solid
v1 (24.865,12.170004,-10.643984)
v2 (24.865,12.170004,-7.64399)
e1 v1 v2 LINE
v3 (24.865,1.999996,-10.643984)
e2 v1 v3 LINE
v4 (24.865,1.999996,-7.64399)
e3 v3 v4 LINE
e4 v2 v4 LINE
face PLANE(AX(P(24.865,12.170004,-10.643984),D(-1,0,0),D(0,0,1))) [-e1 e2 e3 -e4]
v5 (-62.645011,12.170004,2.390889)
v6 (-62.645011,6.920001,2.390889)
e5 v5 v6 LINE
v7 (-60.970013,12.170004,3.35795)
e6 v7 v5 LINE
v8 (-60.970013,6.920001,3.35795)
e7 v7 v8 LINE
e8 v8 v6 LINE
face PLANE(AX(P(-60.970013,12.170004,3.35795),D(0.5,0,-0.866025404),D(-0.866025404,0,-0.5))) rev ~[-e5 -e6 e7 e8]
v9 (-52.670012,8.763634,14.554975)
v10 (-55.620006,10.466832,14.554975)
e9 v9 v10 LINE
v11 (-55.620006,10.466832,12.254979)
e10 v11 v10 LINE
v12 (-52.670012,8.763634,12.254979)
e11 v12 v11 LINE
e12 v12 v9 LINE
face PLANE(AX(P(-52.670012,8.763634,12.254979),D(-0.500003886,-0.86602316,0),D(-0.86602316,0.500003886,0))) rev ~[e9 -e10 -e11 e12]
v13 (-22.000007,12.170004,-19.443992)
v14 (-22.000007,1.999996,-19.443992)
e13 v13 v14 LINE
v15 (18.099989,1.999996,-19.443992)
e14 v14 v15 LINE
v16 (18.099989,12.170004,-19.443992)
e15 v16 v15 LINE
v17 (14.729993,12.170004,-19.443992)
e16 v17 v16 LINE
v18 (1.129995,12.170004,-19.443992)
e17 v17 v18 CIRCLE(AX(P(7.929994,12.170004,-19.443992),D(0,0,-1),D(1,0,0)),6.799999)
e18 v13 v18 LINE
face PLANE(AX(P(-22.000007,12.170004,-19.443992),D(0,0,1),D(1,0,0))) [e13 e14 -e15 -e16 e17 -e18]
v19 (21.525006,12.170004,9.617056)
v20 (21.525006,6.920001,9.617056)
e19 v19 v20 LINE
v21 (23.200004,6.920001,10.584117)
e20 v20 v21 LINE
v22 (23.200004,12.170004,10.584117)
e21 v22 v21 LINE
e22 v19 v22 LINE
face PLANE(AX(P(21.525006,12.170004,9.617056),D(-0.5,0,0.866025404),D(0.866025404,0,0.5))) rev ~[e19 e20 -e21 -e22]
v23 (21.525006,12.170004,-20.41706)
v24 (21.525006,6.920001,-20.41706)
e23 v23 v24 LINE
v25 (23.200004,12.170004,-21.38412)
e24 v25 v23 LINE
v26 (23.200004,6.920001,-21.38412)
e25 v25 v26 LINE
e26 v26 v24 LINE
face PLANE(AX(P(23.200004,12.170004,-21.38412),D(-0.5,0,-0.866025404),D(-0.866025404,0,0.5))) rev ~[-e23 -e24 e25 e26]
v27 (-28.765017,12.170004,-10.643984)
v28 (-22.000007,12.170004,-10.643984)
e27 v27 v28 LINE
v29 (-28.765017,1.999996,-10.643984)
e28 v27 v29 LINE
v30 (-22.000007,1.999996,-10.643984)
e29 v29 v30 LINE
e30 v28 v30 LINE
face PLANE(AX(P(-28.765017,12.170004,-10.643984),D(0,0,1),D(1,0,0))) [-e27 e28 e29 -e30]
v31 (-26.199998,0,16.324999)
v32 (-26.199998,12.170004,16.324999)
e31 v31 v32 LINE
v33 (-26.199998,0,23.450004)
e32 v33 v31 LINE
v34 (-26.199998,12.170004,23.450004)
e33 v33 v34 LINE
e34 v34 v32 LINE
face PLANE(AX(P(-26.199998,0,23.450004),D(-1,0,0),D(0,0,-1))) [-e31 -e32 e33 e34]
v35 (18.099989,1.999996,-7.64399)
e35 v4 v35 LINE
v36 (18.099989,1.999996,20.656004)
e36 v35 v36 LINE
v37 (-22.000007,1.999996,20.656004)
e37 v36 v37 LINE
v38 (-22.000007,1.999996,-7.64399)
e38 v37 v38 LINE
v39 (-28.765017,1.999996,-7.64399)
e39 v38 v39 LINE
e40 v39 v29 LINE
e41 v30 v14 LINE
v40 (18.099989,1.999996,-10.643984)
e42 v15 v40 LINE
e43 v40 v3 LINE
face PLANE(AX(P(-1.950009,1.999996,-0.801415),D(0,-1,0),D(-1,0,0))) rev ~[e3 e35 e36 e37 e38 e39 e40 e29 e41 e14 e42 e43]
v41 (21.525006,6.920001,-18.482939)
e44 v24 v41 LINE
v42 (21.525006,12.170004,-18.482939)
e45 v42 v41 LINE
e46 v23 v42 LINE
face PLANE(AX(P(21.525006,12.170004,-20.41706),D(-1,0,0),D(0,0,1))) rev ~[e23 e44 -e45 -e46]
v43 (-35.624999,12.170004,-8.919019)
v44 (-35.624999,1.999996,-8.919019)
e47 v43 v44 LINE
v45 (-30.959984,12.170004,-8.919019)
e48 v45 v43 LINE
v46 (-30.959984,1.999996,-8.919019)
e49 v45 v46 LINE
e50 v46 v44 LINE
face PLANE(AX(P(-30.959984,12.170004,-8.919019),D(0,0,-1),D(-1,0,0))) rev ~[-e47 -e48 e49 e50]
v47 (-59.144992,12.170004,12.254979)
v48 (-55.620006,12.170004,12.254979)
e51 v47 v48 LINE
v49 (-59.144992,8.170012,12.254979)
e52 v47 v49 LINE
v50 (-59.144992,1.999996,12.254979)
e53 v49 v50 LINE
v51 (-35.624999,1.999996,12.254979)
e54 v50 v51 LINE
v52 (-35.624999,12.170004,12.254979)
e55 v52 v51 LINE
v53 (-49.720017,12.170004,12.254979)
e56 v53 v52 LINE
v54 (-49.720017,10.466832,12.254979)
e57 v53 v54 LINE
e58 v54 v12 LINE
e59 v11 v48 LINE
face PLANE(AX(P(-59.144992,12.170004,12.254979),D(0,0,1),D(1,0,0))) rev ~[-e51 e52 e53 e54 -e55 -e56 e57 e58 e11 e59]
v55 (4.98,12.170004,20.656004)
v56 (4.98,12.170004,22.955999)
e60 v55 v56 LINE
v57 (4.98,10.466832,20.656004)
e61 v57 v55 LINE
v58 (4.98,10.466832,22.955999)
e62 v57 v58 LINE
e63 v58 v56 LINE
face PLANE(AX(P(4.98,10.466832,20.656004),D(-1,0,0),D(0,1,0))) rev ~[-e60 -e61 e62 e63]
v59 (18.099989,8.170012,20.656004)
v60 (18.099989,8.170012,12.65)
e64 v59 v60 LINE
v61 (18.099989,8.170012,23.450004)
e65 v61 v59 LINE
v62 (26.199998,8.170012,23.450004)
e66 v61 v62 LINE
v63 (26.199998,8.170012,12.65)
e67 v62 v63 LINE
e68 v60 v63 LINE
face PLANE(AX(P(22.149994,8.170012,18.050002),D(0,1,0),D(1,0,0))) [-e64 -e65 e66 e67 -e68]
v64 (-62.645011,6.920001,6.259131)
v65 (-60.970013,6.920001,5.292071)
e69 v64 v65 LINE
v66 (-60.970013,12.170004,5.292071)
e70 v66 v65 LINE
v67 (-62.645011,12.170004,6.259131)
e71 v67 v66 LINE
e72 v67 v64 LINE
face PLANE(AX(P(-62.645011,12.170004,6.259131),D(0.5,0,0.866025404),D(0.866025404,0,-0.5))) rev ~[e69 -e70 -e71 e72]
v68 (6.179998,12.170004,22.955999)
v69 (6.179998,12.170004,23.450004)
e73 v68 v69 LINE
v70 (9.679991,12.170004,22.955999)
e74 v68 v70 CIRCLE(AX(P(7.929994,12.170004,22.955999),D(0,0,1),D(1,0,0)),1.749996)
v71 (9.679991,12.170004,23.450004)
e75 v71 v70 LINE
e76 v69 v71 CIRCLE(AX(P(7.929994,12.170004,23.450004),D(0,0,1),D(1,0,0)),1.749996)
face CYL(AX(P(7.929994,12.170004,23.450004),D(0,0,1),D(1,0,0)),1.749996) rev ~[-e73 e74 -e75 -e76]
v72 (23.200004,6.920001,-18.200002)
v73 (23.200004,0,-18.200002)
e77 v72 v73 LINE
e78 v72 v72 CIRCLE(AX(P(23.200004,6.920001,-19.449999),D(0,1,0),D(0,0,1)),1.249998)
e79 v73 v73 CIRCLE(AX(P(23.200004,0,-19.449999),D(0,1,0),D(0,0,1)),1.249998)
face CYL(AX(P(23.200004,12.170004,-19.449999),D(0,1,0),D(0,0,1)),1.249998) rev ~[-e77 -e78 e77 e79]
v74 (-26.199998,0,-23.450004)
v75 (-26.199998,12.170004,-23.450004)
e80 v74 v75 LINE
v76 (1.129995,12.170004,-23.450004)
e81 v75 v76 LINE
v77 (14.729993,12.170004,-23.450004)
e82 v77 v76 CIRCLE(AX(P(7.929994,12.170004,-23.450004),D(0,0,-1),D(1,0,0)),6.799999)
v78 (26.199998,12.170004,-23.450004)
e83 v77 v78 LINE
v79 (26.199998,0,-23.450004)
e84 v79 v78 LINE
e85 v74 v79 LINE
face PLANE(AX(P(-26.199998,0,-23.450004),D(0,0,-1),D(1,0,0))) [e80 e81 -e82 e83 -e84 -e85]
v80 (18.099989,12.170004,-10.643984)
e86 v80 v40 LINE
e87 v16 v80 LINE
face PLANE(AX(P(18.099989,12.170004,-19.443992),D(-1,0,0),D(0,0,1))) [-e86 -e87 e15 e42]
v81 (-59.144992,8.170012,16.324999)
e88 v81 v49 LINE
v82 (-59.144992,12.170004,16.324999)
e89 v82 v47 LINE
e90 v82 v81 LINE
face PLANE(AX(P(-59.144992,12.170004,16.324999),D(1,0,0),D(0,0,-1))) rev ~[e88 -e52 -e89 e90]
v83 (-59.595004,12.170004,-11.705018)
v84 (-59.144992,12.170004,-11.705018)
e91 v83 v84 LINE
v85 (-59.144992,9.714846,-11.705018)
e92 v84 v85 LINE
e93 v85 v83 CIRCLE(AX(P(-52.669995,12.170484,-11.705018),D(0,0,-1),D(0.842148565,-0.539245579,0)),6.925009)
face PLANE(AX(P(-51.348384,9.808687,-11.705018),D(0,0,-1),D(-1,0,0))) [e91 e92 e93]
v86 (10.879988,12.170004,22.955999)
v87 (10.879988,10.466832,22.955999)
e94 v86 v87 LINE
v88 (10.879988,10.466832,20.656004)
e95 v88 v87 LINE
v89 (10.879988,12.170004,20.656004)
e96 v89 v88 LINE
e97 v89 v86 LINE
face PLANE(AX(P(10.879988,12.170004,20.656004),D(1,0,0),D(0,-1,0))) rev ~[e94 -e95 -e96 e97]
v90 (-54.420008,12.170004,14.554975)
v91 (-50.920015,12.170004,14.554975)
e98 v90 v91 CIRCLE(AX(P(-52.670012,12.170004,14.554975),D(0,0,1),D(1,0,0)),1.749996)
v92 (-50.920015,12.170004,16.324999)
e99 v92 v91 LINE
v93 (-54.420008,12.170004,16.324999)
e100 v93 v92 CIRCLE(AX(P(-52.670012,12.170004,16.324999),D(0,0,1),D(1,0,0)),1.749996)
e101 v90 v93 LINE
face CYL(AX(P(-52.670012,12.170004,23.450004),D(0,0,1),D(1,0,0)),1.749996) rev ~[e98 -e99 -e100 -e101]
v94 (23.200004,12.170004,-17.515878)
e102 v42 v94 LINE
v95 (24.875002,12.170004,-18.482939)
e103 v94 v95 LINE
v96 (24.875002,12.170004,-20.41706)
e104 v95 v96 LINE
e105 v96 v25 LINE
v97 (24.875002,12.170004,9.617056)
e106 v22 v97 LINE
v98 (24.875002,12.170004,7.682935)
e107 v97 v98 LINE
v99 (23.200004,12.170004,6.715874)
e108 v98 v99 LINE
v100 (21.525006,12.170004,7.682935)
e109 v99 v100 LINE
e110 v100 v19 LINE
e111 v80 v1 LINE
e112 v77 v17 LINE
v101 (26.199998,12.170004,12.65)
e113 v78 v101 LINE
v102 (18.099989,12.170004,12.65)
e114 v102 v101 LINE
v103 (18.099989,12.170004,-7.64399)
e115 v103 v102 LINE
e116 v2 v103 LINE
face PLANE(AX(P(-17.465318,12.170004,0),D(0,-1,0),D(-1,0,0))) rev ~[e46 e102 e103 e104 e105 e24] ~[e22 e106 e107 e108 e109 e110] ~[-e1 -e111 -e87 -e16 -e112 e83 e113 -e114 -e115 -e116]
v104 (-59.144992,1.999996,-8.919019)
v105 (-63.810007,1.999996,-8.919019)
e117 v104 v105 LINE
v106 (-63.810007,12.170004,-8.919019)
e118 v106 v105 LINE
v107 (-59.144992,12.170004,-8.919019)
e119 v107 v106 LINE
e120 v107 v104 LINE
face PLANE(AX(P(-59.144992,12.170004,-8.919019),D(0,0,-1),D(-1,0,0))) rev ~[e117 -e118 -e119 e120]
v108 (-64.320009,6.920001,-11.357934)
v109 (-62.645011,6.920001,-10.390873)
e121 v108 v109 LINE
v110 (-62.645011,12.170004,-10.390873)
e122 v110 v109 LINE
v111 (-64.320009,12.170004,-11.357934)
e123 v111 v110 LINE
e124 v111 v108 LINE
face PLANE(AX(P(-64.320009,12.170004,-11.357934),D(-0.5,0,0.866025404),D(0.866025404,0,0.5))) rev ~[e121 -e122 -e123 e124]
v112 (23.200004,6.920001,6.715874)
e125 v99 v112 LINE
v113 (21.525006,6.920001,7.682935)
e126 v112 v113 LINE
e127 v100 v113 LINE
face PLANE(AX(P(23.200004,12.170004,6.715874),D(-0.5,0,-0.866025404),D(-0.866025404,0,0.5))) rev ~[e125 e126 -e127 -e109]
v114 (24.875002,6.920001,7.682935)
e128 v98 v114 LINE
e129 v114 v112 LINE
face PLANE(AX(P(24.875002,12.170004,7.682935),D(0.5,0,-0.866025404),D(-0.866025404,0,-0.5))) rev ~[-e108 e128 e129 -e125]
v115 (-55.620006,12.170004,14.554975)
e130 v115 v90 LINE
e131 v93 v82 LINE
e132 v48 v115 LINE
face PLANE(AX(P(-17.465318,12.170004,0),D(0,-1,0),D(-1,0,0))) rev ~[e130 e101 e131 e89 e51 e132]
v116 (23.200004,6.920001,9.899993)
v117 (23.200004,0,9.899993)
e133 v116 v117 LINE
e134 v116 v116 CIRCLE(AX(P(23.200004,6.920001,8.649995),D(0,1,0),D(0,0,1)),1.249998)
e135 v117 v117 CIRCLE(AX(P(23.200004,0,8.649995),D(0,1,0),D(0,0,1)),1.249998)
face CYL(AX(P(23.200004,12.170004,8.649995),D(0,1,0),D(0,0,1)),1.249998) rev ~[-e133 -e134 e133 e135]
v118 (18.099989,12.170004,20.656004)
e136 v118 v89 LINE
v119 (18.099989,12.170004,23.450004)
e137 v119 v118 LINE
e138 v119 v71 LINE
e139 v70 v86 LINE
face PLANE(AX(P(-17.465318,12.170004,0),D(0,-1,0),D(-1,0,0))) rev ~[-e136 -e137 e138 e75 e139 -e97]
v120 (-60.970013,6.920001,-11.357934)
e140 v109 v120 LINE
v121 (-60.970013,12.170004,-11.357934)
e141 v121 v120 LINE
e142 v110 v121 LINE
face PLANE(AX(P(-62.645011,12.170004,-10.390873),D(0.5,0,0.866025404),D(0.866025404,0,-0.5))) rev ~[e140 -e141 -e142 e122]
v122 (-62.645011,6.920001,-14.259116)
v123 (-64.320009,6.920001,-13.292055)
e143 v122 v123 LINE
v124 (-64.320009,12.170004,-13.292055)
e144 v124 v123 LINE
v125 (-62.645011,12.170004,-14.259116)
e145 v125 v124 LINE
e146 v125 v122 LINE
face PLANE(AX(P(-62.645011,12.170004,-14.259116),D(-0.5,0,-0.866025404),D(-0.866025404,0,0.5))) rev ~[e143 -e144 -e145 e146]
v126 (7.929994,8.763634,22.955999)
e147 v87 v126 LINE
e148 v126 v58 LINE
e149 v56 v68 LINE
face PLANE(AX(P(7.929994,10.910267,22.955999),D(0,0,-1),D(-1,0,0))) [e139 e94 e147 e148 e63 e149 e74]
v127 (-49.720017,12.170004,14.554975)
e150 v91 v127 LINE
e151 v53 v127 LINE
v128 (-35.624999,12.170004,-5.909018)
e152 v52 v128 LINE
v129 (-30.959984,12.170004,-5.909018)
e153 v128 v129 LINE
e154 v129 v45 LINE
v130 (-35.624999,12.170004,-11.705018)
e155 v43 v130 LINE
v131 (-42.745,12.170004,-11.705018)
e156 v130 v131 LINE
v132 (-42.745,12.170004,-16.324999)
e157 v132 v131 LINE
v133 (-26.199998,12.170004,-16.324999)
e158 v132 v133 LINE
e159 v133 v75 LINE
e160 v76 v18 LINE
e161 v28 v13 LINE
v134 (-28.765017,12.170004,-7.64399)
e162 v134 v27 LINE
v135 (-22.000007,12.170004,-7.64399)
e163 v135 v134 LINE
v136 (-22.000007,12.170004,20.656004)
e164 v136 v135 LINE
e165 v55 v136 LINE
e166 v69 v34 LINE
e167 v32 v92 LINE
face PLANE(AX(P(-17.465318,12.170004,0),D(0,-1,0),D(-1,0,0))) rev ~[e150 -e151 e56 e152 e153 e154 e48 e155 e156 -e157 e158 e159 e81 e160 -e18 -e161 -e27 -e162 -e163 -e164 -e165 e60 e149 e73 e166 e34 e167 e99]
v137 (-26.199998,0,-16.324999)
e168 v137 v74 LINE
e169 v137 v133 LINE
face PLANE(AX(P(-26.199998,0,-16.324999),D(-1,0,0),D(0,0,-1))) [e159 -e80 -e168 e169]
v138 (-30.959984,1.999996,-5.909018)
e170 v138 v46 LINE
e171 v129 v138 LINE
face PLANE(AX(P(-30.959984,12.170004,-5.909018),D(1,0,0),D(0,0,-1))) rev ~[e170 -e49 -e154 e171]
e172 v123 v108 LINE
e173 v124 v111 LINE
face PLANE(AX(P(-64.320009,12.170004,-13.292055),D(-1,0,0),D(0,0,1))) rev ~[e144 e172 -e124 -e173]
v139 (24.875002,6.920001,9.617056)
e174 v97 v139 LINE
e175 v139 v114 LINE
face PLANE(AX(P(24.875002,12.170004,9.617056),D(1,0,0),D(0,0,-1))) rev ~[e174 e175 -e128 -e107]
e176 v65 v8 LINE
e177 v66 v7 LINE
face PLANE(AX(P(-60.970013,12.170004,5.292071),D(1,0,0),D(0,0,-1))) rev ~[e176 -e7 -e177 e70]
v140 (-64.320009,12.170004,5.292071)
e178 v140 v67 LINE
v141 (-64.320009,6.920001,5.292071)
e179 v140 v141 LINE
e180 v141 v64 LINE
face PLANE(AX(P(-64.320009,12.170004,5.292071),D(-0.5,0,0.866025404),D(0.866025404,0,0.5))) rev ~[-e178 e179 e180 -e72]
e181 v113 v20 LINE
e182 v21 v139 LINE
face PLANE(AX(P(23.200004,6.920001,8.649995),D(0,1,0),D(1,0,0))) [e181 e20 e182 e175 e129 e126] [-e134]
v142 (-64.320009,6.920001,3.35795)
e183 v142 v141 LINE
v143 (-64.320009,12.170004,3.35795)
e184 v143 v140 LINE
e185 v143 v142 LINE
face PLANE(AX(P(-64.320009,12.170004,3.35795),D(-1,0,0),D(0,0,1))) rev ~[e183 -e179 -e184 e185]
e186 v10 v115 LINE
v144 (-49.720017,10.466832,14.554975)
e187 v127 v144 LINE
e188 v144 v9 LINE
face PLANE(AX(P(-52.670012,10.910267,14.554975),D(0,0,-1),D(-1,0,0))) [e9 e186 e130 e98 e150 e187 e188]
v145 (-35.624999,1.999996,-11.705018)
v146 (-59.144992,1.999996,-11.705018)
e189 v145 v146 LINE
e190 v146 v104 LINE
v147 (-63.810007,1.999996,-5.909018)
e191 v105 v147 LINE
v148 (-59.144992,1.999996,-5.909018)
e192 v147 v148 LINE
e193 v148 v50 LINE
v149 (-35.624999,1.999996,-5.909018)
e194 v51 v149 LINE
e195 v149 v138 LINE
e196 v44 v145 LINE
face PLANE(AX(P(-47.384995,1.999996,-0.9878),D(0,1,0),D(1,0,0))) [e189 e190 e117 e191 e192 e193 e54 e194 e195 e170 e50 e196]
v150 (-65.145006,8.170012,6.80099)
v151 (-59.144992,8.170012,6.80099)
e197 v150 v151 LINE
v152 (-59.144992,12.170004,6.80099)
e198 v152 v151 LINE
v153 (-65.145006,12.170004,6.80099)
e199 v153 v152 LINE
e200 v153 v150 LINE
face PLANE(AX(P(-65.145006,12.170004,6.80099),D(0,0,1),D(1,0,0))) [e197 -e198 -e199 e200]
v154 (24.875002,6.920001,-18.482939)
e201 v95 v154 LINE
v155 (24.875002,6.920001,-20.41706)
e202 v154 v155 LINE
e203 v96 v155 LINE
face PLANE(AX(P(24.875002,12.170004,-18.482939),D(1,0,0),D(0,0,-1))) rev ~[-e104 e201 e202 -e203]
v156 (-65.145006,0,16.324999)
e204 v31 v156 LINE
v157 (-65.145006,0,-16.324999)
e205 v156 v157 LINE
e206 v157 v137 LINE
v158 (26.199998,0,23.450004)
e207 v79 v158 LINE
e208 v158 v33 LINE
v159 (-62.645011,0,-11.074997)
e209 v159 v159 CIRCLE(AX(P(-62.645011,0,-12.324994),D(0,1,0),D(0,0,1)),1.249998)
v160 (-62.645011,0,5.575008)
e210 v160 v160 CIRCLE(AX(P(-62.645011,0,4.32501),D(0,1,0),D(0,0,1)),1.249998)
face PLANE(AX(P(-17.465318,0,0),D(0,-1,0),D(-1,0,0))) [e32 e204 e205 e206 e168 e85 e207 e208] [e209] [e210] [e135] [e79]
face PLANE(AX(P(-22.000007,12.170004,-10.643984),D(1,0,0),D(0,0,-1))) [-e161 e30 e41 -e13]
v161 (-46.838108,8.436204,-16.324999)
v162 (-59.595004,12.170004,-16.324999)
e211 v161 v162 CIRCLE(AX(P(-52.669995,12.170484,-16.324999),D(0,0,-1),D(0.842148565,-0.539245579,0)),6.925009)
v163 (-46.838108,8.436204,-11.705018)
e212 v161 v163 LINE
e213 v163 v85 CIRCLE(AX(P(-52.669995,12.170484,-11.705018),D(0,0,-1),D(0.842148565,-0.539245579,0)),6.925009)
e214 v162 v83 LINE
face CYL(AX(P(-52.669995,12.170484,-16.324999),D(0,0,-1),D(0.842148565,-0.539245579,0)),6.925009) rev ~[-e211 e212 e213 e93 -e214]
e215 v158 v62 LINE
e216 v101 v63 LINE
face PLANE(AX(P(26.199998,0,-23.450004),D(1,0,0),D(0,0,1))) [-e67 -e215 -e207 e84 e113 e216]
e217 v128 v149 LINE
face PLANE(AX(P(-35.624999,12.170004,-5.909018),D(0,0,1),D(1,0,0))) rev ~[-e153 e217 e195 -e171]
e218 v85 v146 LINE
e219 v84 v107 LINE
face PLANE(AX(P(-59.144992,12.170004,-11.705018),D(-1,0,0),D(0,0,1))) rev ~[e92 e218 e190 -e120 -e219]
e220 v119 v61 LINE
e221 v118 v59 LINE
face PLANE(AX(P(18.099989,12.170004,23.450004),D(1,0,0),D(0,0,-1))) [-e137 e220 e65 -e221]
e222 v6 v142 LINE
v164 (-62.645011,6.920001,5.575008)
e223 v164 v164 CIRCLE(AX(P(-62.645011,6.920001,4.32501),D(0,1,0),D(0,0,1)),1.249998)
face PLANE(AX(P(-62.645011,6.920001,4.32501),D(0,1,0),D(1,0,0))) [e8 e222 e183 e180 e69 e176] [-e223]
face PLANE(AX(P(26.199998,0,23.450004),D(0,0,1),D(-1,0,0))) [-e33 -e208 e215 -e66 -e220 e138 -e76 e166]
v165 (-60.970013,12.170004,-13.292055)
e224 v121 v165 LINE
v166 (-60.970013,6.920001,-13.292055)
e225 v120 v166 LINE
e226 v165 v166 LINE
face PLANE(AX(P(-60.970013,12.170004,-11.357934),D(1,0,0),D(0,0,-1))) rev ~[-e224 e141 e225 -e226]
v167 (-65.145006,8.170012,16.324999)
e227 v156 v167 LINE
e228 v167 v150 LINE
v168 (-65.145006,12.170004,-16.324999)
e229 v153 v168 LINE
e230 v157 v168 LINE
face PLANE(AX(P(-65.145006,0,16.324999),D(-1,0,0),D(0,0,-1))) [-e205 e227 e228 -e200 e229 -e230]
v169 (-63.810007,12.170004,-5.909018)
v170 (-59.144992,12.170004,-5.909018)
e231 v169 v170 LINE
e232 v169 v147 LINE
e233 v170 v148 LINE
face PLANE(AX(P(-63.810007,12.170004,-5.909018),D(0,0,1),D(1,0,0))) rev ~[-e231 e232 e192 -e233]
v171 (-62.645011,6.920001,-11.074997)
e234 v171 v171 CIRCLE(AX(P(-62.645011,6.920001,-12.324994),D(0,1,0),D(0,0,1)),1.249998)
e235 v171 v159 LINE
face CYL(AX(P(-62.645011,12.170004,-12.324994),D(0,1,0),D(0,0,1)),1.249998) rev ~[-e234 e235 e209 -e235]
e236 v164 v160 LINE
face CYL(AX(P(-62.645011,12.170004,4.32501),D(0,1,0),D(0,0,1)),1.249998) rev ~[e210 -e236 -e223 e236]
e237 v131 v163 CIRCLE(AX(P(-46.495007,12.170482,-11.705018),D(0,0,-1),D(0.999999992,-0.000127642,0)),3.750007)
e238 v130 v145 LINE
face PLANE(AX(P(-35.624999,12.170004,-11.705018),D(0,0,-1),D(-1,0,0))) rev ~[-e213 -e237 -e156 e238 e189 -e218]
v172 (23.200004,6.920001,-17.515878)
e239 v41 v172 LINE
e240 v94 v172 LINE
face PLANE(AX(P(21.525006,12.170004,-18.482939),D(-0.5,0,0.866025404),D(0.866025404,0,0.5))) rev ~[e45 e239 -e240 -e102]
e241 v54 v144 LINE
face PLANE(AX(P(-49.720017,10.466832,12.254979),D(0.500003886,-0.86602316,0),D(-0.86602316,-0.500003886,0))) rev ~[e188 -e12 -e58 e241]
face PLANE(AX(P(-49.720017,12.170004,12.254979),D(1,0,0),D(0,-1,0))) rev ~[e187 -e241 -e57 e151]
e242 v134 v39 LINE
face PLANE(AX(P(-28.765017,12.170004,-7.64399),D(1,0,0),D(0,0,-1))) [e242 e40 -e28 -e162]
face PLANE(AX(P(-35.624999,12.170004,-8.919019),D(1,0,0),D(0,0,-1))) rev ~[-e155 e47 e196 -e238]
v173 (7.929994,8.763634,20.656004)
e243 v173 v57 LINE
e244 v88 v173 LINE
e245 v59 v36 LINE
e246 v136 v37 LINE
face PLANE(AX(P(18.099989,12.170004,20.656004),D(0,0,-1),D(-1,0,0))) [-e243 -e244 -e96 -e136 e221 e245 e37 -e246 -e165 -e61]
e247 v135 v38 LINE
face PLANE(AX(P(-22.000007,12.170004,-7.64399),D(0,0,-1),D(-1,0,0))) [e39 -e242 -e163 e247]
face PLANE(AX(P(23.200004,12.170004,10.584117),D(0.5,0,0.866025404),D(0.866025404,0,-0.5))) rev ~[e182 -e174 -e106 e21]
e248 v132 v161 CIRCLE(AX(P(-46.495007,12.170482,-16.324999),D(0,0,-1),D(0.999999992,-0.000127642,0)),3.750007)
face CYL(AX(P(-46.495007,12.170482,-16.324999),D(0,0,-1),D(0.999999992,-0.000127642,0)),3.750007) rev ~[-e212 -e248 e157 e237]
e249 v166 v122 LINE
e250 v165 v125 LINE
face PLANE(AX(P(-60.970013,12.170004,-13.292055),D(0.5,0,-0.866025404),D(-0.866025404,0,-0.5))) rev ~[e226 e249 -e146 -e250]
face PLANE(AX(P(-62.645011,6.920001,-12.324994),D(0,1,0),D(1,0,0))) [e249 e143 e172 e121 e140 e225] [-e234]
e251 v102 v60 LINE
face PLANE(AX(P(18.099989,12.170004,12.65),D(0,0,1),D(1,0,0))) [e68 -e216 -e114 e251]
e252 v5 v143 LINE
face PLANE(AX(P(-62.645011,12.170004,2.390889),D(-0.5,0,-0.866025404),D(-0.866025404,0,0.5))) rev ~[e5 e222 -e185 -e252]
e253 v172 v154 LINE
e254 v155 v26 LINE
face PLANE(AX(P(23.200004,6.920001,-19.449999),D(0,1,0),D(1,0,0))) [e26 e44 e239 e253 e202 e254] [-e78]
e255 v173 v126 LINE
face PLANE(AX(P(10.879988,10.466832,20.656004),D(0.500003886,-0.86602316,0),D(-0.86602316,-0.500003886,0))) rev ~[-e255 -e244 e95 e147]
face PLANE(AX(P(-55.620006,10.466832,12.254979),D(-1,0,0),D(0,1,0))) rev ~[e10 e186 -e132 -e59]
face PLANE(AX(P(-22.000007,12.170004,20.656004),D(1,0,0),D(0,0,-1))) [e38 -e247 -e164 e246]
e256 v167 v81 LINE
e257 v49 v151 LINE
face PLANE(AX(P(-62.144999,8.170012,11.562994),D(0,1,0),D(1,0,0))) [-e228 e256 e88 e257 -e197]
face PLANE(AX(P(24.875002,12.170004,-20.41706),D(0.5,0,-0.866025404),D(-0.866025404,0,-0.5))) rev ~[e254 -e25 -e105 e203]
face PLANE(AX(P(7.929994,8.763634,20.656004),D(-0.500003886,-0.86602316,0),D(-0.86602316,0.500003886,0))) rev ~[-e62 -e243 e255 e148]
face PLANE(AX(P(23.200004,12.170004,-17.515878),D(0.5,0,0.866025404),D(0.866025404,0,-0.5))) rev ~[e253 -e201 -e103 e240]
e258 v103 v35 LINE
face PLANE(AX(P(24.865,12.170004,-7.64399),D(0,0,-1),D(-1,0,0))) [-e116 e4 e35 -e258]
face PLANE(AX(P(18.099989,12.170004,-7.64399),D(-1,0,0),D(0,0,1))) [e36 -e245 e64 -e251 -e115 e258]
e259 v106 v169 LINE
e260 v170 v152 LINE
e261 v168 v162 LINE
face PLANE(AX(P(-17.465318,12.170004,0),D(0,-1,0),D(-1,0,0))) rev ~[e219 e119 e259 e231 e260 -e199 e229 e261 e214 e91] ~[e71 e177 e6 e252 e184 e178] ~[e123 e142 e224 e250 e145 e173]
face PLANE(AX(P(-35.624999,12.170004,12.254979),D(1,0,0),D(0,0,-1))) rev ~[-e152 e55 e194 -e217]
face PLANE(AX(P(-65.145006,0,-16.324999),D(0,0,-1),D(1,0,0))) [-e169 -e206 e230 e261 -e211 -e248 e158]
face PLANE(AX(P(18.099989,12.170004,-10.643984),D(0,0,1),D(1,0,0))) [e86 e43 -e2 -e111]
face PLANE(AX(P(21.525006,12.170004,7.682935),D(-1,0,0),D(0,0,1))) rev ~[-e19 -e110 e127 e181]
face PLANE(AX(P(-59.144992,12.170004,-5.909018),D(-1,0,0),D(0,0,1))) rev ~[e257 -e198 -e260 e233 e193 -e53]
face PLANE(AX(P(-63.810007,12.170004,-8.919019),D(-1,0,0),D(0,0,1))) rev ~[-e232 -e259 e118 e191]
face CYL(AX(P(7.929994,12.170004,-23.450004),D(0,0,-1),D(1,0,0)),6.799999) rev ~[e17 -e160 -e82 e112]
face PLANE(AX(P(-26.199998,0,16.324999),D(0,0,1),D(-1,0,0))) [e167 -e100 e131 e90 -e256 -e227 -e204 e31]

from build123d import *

# Parameters (mm, degrees)
BOSS_EXTRUDE1_DEPTH = 12.1700036
SKETCH2_W           = 8.1000092
SKETCH2_H           = 10.8000038
SKETCH2_W_2         = 6.0000134
SKETCH2_H_2         = 9.5240094
CUT_EXTRUDE1_DEPTH  = 3.999992
CUT_EXTRUDE2_DEPTH  = 10.1700076
CUT_EXTRUDE3_DEPTH  = 4.0060118
CUT_EXTRUDE4_DEPTH  = 4.6199806
CUT_EXTRUDE5_DEPTH  = 5.2500022
CUT_EXTRUDE6_REACH  = 83.189
SKETCH7_R           = 1.7499965
CUT_EXTRUDE7_DEPTH  = 2.2999954
CUT_EXTRUDE8_DEPTH  = 2.2999954
SKETCH10_R          = 1.2499975
CUT_EXTRUDE9_DEPTH  = 71.298530747


with BuildPart() as part:
    # Sketch1 → Boss-Extrude1 (new body)
    with BuildSketch(Plane(origin=(0, 0, 0), x_dir=(1, 0, 0), z_dir=(0, 1, 0))):
        Polygon((-26.1999984, 16.3249991), (-26.1999984, 23.4500039), (26.1999984, 23.4500039), (26.1999984, -23.4500039), (-26.1999984, -23.4500039), (-26.1999984, -16.3249991), (-65.1450056, -16.3249991), (-65.1450056, 16.3249991), align=None)
    extrude(amount=BOSS_EXTRUDE1_DEPTH)

    # Sketch2 → Cut-Extrude1 (cut)
    with BuildSketch(Plane(origin=(0, 12.1700036, 0), x_dir=(1, 0, 0), z_dir=(0, 1, 0))):
        with Locations((22.1499938, -18.050002)):
            Rectangle(SKETCH2_W, SKETCH2_H)
        with Locations((-62.1449989, -11.5629944)):
            Rectangle(SKETCH2_W_2, SKETCH2_H_2)
    extrude(amount=-CUT_EXTRUDE1_DEPTH, mode=Mode.SUBTRACT)

    # Sketch3 → Cut-Extrude2 (cut)
    with BuildSketch(Plane(origin=(0, 12.1700036, 0), x_dir=(1, 0, 0), z_dir=(0, 1, 0))):
        Polygon((-59.1449922, -12.2549793), (-35.6249986, -12.2549793), (-35.6249986, 5.9090179), (-30.9599838, 5.9090179), (-30.9599838, 8.9190195), (-35.6249986, 8.9190195), (-35.6249986, 11.7050185), (-59.1449922, 11.7050185), (-59.1449922, 8.9190195), (-63.810007, 8.9190195), (-63.810007, 5.9090179), (-59.1449922, 5.9090179), align=None)
        Polygon((18.0999892, -20.6560039), (-22.0000068, -20.6560039), (-22.0000068, 7.6439903), (-28.7650174, 7.6439903), (-28.7650174, 10.6439843), (-22.0000068, 10.6439843), (-22.0000068, 19.4439921), (18.0999892, 19.4439921), (18.0999892, 10.6439843), (24.8649998, 10.6439843), (24.8649998, 7.6439903), (18.0999892, 7.6439903), align=None)
    extrude(amount=-CUT_EXTRUDE2_DEPTH, mode=Mode.SUBTRACT)

    # Sketch4 → Cut-Extrude3 (cut)
    with BuildSketch(Plane(origin=(0, 0, -23.4500039), x_dir=(-1, 0, 0), z_dir=(0, 0, -1))):
        with BuildLine():
            Line((-1.1299952, 12.1700036), (-14.7299934, 12.1700036))
            ThreePointArc((-14.7299934, 12.1700036), (-7.9299943, 5.3700045), (-1.1299952, 12.1700036))
        make_face()
    extrude(amount=-CUT_EXTRUDE3_DEPTH, mode=Mode.SUBTRACT)

    # Sketch5 → Cut-Extrude4 (cut)
    with BuildSketch(Plane(origin=(0, 0, -16.3249991), x_dir=(-1, 0, 0), z_dir=(0, 0, -1))):
        with BuildLine():
            ThreePointArc((46.838108, 8.4362036), (54.615256842, 5.524304205), (59.595004, 12.1700036))
            Line((59.595004, 12.1700036), (46.838108, 12.1700036))
            Line((46.838108, 12.1700036), (42.7449996, 12.1700036))
            ThreePointArc((42.7449996, 12.1700036), (43.96774198, 9.400015303), (46.838108, 8.4362036))
        make_face()
    extrude(amount=-CUT_EXTRUDE4_DEPTH, mode=Mode.SUBTRACT)

    # Sketch6 → Cut-Extrude5 (cut)
    with BuildSketch(Plane(origin=(0, 12.1700036, 0), x_dir=(1, 0, 0), z_dir=(0, 1, 0))):
        Polygon((-62.6450106, 14.2591155), (-64.320008607, 13.29205495), (-64.320008607, 11.35793385), (-62.6450106, 10.3908733), (-60.970012593, 11.35793385), (-60.970012593, 13.29205495), align=None)
        Polygon((-62.6450106, -2.3908893), (-64.320008607, -3.35794985), (-64.320008607, -5.29207095), (-62.6450106, -6.2591315), (-60.970012593, -5.29207095), (-60.970012593, -3.35794985), align=None)
        Polygon((23.2000044, 21.3841203), (21.525006393, 20.41705975), (21.525006393, 18.48293865), (23.2000044, 17.5158781), (24.875002407, 18.48293865), (24.875002407, 20.41705975), align=None)
        Polygon((23.2000044, -6.7158743), (21.525006393, -7.68293485), (21.525006393, -9.61705595), (23.2000044, -10.5841165), (24.875002407, -9.61705595), (24.875002407, -7.68293485), align=None)
    extrude(amount=-CUT_EXTRUDE5_DEPTH, mode=Mode.SUBTRACT)

    # Cut-Extrude6: up to this face of the body (flat: up to its plane)
    cut_extrude6_end = Plane(part.part.faces().sort_by_distance((-47.3849954, 7.0849998, 12.2549793))[0])
    # Sketch7 → Cut-Extrude6 (cut, up to the picked face)
    with BuildSketch(Plane.XY.offset(23.4500039), mode=Mode.PRIVATE) as cut_extrude6_sk1:
        with Locations((-52.6700115, 12.1700036)):
            Circle(SKETCH7_R)
    cut_extrude6_tool1 = split(extrude(cut_extrude6_sk1.sketch, amount=-CUT_EXTRUDE6_REACH, mode=Mode.PRIVATE), bisect_by=cut_extrude6_end, keep=Keep.BOTH, mode=Mode.PRIVATE)
    # Sketch7 → Cut-Extrude6 (cut, up to the picked face)
    with BuildSketch(Plane.XY.offset(23.4500039), mode=Mode.PRIVATE) as cut_extrude6_sk2:
        with Locations((7.9299943, 12.1700036)):
            Circle(SKETCH7_R)
    cut_extrude6_tool2 = split(extrude(cut_extrude6_sk2.sketch, amount=-CUT_EXTRUDE6_REACH, mode=Mode.PRIVATE), bisect_by=cut_extrude6_end, keep=Keep.BOTH, mode=Mode.PRIVATE)
    add(cut_extrude6_tool1.solids().sort_by(Axis((-52.670012, 12.170004, 23.450004), (0, 0, -1)))[0], mode=Mode.SUBTRACT)
    add(cut_extrude6_tool2.solids().sort_by(Axis((7.929994, 12.170004, 23.450004), (0, 0, -1)))[0], mode=Mode.SUBTRACT)

    # Sketch8 → Cut-Extrude7 (cut)
    with BuildSketch(Plane(origin=(0, 0, 20.6560039), x_dir=(-1, 0, 0), z_dir=(0, 0, -1))):
        Polygon((-10.8799884, 12.1700036), (-10.8799884, 10.466832), (-7.9299943, 8.763634463), (-4.9800002, 10.466832), (-4.9800002, 12.1700036), align=None)
    extrude(amount=-CUT_EXTRUDE7_DEPTH, mode=Mode.SUBTRACT)

    # Sketch9 → Cut-Extrude8 (cut)
    with BuildSketch(Plane(origin=(0, 0, 12.2549793), x_dir=(-1, 0, 0), z_dir=(0, 0, -1))):
        Polygon((49.7200174, 12.1700036), (49.7200174, 10.466832), (52.6700115, 8.763634463), (55.6200056, 10.466832), (55.6200056, 12.1700036), align=None)
    extrude(amount=-CUT_EXTRUDE8_DEPTH, mode=Mode.SUBTRACT)

    # Sketch10 → Cut-Extrude9 (cut, through all)
    with BuildSketch(Plane(origin=(0, 12.1700036, 0), x_dir=(1, 0, 0), z_dir=(0, 1, 0))):
        with Locations(Location((-62.6450106, 12.3249944, 0), (0, 0, 270))):
            Circle(SKETCH10_R)
        with Locations(Location((-62.6450106, -4.3250104, 0), (0, 0, 270))):
            Circle(SKETCH10_R)
        with Locations(Location((23.2000044, -8.6499954, 0), (0, 0, 270))):
            Circle(SKETCH10_R)
        with Locations(Location((23.2000044, 19.4499992, 0), (0, 0, 270))):
            Circle(SKETCH10_R)
    extrude(amount=-CUT_EXTRUDE9_DEPTH, mode=Mode.SUBTRACT)


solid = part.part
